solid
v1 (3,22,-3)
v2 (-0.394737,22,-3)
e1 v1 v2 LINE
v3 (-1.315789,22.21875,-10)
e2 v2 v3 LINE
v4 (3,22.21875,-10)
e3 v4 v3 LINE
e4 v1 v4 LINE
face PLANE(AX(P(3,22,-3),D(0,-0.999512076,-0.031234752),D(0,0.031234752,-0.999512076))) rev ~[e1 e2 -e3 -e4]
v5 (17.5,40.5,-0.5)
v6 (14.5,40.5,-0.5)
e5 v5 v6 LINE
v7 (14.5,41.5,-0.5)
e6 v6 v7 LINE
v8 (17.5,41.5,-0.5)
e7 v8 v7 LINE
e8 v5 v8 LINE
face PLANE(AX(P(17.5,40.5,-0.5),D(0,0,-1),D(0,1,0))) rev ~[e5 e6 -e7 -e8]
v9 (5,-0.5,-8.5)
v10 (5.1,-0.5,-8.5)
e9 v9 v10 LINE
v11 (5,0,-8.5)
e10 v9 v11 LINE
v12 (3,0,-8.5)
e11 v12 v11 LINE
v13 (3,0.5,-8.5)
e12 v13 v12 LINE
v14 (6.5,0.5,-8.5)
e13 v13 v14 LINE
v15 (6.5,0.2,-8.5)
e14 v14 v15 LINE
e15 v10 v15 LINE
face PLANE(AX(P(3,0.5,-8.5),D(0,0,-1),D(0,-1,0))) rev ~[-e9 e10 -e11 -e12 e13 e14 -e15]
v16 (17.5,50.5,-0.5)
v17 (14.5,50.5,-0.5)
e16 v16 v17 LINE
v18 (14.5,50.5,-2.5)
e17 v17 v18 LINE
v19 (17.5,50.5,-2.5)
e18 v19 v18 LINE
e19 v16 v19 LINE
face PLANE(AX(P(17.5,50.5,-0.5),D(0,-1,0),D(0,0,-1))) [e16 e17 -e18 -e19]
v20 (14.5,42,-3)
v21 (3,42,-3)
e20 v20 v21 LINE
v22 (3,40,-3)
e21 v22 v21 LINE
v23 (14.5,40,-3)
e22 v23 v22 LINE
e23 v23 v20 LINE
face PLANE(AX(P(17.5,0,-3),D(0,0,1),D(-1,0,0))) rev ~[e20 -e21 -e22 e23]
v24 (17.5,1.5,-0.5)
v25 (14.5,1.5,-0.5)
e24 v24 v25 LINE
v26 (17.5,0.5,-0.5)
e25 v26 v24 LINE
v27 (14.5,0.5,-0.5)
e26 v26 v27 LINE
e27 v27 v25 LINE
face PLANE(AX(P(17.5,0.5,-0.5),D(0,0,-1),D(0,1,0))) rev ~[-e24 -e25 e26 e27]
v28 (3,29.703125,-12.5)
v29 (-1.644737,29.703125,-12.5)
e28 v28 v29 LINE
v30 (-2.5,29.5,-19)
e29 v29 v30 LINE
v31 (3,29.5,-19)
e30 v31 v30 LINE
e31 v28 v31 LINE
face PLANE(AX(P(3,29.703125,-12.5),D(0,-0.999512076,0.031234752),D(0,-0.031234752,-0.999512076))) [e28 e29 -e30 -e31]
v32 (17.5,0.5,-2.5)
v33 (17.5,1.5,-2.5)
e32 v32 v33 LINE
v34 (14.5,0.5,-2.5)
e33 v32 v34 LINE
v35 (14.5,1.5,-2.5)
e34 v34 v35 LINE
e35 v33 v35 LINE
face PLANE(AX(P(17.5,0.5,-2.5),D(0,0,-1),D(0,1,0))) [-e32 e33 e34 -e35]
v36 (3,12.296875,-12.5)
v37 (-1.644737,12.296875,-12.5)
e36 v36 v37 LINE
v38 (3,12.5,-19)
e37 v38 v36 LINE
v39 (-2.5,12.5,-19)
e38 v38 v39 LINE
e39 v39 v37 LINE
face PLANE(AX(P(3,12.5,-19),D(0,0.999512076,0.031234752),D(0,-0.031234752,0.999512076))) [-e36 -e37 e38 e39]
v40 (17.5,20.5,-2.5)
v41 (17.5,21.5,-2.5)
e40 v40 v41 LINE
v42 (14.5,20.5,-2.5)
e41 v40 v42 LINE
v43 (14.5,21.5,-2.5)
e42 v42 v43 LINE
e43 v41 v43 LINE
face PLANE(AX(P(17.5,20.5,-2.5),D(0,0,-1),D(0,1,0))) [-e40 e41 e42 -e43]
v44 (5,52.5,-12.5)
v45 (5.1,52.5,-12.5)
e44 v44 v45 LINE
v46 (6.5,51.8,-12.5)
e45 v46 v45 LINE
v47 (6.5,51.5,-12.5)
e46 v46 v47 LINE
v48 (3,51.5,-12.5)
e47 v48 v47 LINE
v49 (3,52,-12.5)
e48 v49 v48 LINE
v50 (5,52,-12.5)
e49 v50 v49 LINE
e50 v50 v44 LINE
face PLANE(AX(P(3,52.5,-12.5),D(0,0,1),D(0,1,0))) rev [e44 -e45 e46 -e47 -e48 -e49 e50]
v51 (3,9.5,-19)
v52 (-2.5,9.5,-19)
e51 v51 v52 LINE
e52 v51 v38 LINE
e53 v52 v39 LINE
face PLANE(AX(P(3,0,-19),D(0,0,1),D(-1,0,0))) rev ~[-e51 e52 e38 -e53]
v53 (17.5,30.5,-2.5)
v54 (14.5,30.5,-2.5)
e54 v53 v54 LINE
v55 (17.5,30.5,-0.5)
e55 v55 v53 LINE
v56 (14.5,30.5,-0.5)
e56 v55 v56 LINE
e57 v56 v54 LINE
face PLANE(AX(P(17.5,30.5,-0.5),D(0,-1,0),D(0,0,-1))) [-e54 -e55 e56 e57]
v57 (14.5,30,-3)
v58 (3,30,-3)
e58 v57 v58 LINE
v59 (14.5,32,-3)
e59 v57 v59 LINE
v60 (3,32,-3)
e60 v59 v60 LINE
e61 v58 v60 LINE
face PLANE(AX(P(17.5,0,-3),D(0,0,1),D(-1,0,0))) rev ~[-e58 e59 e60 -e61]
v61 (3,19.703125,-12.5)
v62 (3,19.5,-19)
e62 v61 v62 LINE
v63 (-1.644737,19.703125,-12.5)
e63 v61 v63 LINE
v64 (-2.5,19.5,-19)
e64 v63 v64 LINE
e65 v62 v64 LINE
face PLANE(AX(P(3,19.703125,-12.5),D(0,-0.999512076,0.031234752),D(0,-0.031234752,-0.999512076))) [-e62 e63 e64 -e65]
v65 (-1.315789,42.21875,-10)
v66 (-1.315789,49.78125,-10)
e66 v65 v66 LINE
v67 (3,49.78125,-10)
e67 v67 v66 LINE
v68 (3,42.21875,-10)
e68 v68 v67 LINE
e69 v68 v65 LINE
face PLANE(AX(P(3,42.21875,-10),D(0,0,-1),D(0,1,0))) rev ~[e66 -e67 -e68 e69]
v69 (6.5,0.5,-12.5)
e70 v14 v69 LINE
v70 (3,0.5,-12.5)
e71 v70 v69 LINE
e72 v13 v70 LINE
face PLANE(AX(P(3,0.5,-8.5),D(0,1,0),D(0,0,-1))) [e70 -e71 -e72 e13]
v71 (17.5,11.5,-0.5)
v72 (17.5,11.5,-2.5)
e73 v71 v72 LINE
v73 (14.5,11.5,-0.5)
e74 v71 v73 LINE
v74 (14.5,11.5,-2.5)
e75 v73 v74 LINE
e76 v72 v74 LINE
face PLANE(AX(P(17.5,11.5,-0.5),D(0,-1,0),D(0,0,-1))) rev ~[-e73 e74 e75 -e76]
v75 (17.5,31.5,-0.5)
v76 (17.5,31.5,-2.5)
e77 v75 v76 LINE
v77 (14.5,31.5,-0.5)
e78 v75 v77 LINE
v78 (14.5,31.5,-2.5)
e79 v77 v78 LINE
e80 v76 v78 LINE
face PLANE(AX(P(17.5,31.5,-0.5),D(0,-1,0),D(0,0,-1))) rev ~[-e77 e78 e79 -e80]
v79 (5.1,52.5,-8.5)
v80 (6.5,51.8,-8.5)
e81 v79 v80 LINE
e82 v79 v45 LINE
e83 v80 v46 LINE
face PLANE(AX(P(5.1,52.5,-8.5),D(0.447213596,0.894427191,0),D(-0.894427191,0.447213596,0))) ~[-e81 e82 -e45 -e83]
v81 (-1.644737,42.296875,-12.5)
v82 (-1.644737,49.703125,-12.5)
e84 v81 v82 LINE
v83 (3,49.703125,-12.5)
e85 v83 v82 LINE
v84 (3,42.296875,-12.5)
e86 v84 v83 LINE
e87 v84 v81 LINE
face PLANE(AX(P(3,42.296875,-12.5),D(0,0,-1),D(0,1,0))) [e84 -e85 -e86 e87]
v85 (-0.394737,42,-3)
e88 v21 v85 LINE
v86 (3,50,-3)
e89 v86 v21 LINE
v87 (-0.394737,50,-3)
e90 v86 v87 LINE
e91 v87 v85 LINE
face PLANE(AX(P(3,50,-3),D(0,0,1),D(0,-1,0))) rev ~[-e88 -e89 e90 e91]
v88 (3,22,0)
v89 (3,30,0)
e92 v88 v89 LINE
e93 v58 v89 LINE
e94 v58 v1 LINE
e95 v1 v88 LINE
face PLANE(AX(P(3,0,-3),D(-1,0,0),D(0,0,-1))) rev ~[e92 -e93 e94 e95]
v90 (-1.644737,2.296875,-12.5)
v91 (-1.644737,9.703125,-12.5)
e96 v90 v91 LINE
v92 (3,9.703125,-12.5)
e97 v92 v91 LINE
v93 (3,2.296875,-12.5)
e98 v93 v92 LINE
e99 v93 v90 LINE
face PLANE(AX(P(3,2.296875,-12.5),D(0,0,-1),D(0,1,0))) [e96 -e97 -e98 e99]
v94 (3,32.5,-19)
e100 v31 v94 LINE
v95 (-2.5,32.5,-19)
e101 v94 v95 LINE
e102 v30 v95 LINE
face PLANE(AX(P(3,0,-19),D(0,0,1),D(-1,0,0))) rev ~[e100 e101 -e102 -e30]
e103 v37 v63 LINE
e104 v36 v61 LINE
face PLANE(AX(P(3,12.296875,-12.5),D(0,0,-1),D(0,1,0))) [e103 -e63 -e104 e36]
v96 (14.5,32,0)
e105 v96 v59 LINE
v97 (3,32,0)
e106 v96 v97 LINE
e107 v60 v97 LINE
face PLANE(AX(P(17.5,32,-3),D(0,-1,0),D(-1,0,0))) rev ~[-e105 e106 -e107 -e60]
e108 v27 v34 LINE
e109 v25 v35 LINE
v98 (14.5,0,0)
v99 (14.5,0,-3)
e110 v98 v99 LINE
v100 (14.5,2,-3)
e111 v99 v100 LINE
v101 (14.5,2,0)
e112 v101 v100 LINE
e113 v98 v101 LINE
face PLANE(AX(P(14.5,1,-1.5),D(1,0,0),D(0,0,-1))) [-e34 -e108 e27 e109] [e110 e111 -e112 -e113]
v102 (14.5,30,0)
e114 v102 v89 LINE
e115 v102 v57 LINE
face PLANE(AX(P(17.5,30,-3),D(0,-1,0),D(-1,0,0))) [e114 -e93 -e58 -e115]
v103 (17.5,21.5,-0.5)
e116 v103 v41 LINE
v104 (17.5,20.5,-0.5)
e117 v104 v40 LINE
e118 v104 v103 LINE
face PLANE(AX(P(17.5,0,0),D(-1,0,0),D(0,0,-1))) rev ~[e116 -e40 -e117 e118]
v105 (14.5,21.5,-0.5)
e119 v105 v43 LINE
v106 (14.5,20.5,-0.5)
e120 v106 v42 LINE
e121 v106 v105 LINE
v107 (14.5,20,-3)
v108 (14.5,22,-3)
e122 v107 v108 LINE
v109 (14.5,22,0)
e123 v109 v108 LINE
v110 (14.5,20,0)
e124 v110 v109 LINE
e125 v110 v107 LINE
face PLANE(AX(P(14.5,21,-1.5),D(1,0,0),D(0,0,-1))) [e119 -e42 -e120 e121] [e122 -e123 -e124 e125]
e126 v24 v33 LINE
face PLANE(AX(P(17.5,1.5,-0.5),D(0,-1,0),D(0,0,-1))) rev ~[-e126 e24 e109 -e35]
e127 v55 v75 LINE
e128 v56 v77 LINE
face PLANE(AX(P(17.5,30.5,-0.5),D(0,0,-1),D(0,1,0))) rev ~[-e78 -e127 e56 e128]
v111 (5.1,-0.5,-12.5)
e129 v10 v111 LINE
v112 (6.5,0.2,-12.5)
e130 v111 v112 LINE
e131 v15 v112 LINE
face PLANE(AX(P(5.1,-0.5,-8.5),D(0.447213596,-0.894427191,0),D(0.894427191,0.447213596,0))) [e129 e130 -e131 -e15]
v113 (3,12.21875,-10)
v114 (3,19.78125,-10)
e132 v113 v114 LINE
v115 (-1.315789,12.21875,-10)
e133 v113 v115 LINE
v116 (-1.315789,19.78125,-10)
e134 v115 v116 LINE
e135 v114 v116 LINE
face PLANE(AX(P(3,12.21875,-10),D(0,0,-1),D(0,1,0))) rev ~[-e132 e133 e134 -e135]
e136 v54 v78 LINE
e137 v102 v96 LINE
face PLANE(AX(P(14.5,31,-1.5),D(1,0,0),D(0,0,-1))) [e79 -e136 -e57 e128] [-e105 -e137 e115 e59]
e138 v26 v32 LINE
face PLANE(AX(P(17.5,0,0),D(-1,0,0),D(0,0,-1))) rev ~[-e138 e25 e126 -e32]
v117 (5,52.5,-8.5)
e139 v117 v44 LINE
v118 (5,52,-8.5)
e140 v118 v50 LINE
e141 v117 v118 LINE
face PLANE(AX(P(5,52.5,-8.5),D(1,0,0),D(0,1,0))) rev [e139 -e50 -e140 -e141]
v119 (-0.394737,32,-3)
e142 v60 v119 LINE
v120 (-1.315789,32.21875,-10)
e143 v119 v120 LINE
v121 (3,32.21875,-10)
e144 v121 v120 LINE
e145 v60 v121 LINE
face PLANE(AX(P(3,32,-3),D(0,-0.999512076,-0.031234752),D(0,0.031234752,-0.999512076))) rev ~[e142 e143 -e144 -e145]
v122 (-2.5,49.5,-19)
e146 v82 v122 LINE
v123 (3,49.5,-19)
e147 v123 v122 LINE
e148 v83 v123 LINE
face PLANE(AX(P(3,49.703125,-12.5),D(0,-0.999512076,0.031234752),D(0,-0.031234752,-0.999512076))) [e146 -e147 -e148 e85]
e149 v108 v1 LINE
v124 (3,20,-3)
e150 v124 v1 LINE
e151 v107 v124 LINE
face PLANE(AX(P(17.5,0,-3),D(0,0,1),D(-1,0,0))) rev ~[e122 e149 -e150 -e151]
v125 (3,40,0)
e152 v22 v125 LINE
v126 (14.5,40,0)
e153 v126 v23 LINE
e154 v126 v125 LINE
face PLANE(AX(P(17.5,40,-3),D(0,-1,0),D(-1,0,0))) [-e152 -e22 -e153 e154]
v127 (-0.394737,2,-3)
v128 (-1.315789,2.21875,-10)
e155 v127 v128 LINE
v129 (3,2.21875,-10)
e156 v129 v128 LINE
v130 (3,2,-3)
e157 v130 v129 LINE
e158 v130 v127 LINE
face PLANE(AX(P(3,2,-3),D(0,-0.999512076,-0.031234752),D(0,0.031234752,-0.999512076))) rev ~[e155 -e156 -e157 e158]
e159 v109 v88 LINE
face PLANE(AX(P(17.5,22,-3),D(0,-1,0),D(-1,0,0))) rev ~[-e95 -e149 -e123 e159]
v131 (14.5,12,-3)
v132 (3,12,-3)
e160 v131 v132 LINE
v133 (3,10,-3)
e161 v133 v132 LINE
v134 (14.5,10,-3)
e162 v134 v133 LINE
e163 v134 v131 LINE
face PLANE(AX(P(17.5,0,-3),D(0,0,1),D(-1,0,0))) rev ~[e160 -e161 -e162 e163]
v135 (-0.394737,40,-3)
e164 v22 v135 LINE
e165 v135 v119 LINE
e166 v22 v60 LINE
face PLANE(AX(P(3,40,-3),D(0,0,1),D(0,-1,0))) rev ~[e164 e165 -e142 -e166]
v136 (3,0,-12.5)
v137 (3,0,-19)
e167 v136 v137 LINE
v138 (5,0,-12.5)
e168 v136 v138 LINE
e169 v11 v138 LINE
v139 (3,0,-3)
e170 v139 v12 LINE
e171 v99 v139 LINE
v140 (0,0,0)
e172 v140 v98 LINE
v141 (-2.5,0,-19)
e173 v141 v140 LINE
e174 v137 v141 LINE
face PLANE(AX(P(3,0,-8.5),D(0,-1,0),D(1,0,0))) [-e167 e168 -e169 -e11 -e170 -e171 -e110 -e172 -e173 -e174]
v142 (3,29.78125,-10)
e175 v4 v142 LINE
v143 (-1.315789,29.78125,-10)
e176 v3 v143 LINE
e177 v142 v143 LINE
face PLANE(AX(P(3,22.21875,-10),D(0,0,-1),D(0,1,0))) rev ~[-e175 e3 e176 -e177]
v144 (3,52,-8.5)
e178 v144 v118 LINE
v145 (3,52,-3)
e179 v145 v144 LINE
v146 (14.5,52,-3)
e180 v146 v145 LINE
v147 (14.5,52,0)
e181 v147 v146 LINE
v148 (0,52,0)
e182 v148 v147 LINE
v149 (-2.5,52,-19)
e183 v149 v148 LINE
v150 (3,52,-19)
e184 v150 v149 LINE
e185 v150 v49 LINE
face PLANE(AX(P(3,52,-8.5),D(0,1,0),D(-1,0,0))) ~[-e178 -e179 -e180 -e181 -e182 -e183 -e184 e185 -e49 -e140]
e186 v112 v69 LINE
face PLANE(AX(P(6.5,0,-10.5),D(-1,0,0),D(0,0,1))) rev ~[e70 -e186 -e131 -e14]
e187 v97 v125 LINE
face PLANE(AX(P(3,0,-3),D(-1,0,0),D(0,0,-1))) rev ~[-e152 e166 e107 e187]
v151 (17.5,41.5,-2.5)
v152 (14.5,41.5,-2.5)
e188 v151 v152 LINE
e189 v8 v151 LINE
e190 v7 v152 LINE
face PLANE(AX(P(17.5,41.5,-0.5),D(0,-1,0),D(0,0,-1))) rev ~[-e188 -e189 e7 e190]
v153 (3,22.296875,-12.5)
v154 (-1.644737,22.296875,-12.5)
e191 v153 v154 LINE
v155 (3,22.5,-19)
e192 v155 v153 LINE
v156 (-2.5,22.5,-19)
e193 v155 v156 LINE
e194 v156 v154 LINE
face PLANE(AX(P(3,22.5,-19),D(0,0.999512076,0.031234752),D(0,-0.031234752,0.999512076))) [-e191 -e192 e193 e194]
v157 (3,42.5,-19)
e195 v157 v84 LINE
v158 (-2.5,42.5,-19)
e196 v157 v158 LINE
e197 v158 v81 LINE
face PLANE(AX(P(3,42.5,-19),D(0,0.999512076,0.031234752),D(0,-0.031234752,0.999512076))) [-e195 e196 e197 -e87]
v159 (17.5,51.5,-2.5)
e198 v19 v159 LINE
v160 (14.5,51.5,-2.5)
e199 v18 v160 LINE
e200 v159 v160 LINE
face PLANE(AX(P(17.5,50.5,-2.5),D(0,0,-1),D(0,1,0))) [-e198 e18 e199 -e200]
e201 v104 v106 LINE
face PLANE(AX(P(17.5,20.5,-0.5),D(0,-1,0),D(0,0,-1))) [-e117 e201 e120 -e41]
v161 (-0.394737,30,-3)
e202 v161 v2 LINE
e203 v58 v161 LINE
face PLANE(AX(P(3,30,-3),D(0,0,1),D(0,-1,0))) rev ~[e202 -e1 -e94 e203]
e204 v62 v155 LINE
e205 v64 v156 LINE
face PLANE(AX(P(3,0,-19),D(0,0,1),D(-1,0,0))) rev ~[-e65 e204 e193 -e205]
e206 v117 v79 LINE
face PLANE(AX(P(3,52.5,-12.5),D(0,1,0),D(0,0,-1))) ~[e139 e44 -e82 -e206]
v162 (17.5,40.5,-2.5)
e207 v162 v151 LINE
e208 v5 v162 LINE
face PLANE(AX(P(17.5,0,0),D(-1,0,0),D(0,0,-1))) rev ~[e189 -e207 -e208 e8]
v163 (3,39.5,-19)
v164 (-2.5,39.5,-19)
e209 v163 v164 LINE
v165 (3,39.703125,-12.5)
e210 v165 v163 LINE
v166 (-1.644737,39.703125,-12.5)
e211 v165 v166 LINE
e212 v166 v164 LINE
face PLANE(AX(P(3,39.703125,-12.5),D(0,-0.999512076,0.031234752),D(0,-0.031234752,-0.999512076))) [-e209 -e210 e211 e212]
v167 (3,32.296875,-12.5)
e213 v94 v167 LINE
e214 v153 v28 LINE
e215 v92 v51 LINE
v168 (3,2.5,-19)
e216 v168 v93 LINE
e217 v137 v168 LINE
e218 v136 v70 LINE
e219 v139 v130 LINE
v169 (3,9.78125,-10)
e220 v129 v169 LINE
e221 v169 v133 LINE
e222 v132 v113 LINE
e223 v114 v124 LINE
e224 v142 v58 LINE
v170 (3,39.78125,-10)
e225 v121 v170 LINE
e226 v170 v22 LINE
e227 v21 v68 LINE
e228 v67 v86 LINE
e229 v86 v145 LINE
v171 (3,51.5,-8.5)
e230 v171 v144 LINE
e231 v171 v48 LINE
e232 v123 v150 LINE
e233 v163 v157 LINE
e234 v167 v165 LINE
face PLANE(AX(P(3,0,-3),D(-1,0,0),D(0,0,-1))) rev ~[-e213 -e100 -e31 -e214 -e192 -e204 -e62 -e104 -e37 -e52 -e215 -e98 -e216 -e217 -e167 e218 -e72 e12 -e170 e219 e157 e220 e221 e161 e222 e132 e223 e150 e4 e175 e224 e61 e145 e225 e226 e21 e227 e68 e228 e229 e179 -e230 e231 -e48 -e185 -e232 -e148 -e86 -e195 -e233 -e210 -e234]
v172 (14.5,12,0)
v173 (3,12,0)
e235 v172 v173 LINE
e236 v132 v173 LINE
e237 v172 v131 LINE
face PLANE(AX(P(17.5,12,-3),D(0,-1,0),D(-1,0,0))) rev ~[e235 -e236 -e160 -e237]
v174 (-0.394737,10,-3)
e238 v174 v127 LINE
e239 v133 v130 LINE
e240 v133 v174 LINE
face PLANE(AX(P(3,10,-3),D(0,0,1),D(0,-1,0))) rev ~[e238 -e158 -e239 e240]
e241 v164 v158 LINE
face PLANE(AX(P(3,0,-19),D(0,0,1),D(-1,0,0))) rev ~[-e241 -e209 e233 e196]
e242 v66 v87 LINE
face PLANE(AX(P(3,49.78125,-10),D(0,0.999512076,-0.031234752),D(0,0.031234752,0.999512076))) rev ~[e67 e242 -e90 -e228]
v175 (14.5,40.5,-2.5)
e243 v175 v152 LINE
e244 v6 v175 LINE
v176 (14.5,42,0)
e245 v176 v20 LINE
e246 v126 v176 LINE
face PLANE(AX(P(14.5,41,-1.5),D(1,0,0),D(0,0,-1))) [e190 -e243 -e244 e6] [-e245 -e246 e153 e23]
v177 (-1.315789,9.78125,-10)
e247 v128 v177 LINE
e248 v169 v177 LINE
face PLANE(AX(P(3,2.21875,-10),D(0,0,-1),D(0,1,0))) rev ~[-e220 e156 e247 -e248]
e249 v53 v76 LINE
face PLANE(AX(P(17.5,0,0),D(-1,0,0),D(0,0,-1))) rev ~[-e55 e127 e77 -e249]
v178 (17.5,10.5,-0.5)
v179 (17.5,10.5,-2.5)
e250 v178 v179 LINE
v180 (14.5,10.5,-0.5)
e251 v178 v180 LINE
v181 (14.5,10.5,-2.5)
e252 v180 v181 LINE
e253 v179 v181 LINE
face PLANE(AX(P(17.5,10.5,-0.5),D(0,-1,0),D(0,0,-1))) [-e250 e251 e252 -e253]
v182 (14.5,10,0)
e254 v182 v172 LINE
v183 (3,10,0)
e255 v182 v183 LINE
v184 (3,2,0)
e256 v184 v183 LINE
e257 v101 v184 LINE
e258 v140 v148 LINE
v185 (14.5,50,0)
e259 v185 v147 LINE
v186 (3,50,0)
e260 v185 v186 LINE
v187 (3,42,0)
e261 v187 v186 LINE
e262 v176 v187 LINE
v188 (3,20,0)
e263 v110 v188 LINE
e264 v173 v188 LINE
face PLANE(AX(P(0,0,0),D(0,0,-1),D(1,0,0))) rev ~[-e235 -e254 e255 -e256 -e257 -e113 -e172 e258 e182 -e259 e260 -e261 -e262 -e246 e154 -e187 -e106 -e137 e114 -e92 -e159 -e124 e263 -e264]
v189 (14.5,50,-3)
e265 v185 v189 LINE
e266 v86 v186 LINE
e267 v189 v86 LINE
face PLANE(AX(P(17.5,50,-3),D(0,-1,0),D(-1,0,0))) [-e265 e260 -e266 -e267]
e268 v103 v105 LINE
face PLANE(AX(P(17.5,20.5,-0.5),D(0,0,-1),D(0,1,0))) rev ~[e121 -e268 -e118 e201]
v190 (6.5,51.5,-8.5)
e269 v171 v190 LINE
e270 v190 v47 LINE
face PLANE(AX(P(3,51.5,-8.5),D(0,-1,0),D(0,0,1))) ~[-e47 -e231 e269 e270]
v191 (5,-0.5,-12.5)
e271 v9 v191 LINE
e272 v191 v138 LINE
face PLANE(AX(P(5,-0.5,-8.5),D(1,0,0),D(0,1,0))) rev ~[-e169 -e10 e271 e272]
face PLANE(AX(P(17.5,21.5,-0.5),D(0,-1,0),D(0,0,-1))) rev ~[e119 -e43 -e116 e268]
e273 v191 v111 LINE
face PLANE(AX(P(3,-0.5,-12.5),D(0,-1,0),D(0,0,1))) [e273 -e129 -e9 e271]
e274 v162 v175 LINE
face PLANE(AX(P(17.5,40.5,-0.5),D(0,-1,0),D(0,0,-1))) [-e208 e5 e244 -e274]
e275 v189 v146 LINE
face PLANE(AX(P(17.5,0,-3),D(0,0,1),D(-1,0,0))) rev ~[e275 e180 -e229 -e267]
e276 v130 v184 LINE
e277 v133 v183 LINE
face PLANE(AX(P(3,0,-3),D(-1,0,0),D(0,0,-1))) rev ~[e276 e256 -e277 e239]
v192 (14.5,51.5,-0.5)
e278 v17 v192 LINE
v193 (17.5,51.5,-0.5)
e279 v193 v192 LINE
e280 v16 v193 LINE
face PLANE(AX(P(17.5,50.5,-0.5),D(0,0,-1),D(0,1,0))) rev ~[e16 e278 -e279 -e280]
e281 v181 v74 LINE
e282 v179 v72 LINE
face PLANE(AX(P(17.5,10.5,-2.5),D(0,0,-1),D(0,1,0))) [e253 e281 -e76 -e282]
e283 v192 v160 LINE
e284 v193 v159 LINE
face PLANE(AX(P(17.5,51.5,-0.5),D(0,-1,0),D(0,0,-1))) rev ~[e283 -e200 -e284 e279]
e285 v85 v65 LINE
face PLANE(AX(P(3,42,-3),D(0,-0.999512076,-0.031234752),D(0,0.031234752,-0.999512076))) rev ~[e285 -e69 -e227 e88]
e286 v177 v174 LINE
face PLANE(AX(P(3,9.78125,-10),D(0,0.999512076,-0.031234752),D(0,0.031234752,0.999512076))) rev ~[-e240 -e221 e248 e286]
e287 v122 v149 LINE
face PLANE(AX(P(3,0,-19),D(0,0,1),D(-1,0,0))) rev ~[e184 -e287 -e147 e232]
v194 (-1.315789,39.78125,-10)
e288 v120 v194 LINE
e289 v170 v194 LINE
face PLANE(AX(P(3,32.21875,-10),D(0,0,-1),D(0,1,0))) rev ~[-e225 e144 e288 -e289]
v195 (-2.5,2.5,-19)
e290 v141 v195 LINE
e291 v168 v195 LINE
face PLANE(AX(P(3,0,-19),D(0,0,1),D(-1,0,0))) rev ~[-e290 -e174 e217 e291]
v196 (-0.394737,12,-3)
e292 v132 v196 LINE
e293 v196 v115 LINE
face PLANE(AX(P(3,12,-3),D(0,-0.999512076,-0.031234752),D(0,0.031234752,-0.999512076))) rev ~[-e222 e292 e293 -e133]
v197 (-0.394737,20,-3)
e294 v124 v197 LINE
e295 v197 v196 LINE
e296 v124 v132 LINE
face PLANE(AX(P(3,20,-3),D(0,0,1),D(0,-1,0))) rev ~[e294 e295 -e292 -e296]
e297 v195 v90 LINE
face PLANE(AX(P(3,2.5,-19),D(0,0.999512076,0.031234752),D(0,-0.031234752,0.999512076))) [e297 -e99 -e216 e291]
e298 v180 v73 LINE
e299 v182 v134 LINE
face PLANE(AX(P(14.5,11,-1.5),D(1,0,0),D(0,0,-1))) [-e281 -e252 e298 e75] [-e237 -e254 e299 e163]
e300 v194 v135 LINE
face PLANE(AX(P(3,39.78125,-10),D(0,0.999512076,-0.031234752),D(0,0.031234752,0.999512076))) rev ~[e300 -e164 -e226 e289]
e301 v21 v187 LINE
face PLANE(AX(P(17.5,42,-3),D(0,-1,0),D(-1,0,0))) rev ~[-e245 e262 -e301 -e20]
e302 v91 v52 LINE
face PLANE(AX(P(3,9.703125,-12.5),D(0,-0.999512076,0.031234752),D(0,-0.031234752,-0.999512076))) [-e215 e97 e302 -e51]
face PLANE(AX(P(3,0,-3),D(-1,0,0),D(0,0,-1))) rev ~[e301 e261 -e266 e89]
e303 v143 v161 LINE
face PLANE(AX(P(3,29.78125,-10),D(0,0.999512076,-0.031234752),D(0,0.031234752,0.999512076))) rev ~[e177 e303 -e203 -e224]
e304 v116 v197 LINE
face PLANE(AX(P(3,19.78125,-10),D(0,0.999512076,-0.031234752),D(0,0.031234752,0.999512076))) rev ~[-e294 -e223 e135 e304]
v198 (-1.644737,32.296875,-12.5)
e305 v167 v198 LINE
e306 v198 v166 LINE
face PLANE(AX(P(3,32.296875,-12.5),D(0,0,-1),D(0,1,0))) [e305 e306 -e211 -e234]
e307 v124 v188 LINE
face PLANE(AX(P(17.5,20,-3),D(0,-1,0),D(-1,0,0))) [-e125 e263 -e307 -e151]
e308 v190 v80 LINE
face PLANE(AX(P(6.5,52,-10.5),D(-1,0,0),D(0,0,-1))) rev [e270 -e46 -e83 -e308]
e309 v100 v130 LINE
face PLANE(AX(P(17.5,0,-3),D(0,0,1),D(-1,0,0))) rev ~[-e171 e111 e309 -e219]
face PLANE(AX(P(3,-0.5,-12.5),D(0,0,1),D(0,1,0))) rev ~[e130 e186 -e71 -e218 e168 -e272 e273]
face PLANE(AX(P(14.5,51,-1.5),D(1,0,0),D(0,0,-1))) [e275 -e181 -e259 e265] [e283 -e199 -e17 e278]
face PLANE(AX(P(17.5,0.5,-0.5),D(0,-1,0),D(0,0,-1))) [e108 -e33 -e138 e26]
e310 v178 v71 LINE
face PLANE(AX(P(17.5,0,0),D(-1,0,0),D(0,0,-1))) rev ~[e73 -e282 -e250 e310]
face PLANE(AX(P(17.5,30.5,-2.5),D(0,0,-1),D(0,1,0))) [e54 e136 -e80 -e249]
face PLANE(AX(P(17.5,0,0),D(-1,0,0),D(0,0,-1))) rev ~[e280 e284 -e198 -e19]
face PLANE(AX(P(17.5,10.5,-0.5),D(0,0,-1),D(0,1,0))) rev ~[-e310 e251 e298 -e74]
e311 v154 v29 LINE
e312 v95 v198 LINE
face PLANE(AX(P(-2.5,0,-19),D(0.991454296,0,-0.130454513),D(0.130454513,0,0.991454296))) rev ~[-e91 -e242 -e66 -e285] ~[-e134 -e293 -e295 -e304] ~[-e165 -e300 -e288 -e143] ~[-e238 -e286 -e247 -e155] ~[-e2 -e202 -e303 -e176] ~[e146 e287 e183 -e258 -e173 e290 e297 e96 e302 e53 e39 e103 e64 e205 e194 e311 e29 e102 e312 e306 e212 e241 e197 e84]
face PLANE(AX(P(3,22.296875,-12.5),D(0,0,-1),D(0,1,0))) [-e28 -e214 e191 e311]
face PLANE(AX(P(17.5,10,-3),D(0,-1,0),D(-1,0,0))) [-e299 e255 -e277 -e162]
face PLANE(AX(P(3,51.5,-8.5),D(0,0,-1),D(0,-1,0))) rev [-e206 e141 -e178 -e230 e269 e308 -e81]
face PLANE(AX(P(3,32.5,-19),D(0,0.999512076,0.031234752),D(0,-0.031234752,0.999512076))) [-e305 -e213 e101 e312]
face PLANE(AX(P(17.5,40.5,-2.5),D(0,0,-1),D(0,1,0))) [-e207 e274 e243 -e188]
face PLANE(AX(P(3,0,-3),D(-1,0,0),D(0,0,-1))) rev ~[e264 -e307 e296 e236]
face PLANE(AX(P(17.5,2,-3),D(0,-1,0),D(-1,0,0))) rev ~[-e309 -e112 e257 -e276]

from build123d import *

# Parameters (mm, degrees)
EXTRUDE_1_DEPTH        = 52
SKETCH_2_W             = 14.5
SKETCH_2_H             = 8
CUT_EXTRUDE_1_DEPTH    = 4
PATTERN_LINEAR_1_COUNT = 5
PATTERN_LINEAR_1_PITCH = 10
CUT_EXTRUDE_2_DEPTH    = 6.5
PATTERN_LINEAR_2_COUNT = 5
PATTERN_LINEAR_2_PITCH = 10
SKETCH_5_W             = 3
SKETCH_5_H             = 2
SKETCH_5_W_2           = 2
SKETCH_5_H_2           = 1
CUT_EXTRUDE_3_DEPTH    = 3
PATTERN_LINEAR_3_COUNT = 6
PATTERN_LINEAR_3_PITCH = 10
EXTRUDE_2_DEPTH        = 3.5
SKETCH_8_W             = 2
SKETCH_8_H             = 0.5
CUT_EXTRUDE_4_DEPTH    = 5


with BuildPart() as part:
    # 草图1 → 凸台-拉伸1 (new body)
    with BuildSketch(Plane(origin=(0, 0, 0), x_dir=(1, 0, 0), z_dir=(0, 1, 0))):
        Polygon((0, 19), (-2.5, 19), (0, 0), (17.5, 0), (17.5, 3), (3, 3), (3, 19), align=None)
    extrude(amount=EXTRUDE_1_DEPTH)

    # 草图2 → 切除-拉伸1 (cut, through all)
    with BuildSketch(Plane(origin=(0, 0, -3), x_dir=(-1, 0, 0), z_dir=(0, 0, -1))):
        with Locations((-10.25, 46)):
            Rectangle(SKETCH_2_W, SKETCH_2_H)
    cut_extrude_1 = extrude(amount=-CUT_EXTRUDE_1_DEPTH, mode=Mode.SUBTRACT)

    # 阵列(线性)1: 切除-拉伸1 ×5
    with Locations(*[(0, -i * PATTERN_LINEAR_1_PITCH, 0) for i in range(1, PATTERN_LINEAR_1_COUNT)]):
        add(cut_extrude_1, mode=Mode.SUBTRACT)

    # 草图4 → 切除-拉伸2 (cut, through all)
    with BuildSketch(Plane(origin=(3, 0, 0), x_dir=(0, 0, -1), z_dir=(1, 0, 0))):
        Polygon((3, 50), (3, 42), (10, 42.21875), (10, 49.78125), align=None)
        Polygon((19, 49.5), (19, 42.5), (12.5, 42.296875), (12.5, 49.703125), align=None)
    cut_extrude_2 = extrude(amount=-CUT_EXTRUDE_2_DEPTH, mode=Mode.SUBTRACT)

    # 阵列(线性)2: 切除-拉伸2 ×5
    with Locations(*[(0, -i * PATTERN_LINEAR_2_PITCH, 0) for i in range(1, PATTERN_LINEAR_2_COUNT)]):
        add(cut_extrude_2, mode=Mode.SUBTRACT)

    # 草图5 → 切除-拉伸3 (cut)
    with BuildSketch(Plane(origin=(17.5, 0, 0), x_dir=(0, 0, -1), z_dir=(1, 0, 0))):
        with Locations((1.5, 51)):
            Rectangle(SKETCH_5_W, SKETCH_5_H)
        with Locations((1.5, 51)):
            Rectangle(SKETCH_5_W_2, SKETCH_5_H_2, mode=Mode.SUBTRACT)
    cut_extrude_3 = extrude(amount=-CUT_EXTRUDE_3_DEPTH, mode=Mode.SUBTRACT)

    # 阵列(线性)3: 切除-拉伸3 ×6
    with Locations(*[(0, -i * PATTERN_LINEAR_3_PITCH, 0) for i in range(1, PATTERN_LINEAR_3_COUNT)]):
        add(cut_extrude_3, mode=Mode.SUBTRACT)

    # 草图6 → 凸台-拉伸2 (add)
    with BuildSketch(Plane(origin=(3, 0, 0), x_dir=(0, 0, -1), z_dir=(1, 0, 0))):
        Polygon((8.5, 0), (8.5, 0.5), (12.5, 0.5), (12.5, 0), (12.5, -0.5), (8.5, -0.5), align=None)
    extrude_2 = extrude(amount=EXTRUDE_2_DEPTH)

    # 草图8 → 切除-拉伸4 (cut)
    with BuildSketch(Plane.XY.offset(-8.5)):
        with Locations((4, -0.25)):
            Rectangle(SKETCH_8_W, SKETCH_8_H)
        Polygon((6.5, -0.5), (5.1, -0.5), (6.5, 0.2), align=None)
    cut_extrude_4 = extrude(amount=-CUT_EXTRUDE_4_DEPTH, mode=Mode.SUBTRACT)

    # 镜向1: 凸台-拉伸2, 切除-拉伸4 across plane
    add(extrude_2.mirror(Plane.ZX.offset(26)))
    add(cut_extrude_4.mirror(Plane.ZX.offset(26)), mode=Mode.SUBTRACT)


solid = part.part
